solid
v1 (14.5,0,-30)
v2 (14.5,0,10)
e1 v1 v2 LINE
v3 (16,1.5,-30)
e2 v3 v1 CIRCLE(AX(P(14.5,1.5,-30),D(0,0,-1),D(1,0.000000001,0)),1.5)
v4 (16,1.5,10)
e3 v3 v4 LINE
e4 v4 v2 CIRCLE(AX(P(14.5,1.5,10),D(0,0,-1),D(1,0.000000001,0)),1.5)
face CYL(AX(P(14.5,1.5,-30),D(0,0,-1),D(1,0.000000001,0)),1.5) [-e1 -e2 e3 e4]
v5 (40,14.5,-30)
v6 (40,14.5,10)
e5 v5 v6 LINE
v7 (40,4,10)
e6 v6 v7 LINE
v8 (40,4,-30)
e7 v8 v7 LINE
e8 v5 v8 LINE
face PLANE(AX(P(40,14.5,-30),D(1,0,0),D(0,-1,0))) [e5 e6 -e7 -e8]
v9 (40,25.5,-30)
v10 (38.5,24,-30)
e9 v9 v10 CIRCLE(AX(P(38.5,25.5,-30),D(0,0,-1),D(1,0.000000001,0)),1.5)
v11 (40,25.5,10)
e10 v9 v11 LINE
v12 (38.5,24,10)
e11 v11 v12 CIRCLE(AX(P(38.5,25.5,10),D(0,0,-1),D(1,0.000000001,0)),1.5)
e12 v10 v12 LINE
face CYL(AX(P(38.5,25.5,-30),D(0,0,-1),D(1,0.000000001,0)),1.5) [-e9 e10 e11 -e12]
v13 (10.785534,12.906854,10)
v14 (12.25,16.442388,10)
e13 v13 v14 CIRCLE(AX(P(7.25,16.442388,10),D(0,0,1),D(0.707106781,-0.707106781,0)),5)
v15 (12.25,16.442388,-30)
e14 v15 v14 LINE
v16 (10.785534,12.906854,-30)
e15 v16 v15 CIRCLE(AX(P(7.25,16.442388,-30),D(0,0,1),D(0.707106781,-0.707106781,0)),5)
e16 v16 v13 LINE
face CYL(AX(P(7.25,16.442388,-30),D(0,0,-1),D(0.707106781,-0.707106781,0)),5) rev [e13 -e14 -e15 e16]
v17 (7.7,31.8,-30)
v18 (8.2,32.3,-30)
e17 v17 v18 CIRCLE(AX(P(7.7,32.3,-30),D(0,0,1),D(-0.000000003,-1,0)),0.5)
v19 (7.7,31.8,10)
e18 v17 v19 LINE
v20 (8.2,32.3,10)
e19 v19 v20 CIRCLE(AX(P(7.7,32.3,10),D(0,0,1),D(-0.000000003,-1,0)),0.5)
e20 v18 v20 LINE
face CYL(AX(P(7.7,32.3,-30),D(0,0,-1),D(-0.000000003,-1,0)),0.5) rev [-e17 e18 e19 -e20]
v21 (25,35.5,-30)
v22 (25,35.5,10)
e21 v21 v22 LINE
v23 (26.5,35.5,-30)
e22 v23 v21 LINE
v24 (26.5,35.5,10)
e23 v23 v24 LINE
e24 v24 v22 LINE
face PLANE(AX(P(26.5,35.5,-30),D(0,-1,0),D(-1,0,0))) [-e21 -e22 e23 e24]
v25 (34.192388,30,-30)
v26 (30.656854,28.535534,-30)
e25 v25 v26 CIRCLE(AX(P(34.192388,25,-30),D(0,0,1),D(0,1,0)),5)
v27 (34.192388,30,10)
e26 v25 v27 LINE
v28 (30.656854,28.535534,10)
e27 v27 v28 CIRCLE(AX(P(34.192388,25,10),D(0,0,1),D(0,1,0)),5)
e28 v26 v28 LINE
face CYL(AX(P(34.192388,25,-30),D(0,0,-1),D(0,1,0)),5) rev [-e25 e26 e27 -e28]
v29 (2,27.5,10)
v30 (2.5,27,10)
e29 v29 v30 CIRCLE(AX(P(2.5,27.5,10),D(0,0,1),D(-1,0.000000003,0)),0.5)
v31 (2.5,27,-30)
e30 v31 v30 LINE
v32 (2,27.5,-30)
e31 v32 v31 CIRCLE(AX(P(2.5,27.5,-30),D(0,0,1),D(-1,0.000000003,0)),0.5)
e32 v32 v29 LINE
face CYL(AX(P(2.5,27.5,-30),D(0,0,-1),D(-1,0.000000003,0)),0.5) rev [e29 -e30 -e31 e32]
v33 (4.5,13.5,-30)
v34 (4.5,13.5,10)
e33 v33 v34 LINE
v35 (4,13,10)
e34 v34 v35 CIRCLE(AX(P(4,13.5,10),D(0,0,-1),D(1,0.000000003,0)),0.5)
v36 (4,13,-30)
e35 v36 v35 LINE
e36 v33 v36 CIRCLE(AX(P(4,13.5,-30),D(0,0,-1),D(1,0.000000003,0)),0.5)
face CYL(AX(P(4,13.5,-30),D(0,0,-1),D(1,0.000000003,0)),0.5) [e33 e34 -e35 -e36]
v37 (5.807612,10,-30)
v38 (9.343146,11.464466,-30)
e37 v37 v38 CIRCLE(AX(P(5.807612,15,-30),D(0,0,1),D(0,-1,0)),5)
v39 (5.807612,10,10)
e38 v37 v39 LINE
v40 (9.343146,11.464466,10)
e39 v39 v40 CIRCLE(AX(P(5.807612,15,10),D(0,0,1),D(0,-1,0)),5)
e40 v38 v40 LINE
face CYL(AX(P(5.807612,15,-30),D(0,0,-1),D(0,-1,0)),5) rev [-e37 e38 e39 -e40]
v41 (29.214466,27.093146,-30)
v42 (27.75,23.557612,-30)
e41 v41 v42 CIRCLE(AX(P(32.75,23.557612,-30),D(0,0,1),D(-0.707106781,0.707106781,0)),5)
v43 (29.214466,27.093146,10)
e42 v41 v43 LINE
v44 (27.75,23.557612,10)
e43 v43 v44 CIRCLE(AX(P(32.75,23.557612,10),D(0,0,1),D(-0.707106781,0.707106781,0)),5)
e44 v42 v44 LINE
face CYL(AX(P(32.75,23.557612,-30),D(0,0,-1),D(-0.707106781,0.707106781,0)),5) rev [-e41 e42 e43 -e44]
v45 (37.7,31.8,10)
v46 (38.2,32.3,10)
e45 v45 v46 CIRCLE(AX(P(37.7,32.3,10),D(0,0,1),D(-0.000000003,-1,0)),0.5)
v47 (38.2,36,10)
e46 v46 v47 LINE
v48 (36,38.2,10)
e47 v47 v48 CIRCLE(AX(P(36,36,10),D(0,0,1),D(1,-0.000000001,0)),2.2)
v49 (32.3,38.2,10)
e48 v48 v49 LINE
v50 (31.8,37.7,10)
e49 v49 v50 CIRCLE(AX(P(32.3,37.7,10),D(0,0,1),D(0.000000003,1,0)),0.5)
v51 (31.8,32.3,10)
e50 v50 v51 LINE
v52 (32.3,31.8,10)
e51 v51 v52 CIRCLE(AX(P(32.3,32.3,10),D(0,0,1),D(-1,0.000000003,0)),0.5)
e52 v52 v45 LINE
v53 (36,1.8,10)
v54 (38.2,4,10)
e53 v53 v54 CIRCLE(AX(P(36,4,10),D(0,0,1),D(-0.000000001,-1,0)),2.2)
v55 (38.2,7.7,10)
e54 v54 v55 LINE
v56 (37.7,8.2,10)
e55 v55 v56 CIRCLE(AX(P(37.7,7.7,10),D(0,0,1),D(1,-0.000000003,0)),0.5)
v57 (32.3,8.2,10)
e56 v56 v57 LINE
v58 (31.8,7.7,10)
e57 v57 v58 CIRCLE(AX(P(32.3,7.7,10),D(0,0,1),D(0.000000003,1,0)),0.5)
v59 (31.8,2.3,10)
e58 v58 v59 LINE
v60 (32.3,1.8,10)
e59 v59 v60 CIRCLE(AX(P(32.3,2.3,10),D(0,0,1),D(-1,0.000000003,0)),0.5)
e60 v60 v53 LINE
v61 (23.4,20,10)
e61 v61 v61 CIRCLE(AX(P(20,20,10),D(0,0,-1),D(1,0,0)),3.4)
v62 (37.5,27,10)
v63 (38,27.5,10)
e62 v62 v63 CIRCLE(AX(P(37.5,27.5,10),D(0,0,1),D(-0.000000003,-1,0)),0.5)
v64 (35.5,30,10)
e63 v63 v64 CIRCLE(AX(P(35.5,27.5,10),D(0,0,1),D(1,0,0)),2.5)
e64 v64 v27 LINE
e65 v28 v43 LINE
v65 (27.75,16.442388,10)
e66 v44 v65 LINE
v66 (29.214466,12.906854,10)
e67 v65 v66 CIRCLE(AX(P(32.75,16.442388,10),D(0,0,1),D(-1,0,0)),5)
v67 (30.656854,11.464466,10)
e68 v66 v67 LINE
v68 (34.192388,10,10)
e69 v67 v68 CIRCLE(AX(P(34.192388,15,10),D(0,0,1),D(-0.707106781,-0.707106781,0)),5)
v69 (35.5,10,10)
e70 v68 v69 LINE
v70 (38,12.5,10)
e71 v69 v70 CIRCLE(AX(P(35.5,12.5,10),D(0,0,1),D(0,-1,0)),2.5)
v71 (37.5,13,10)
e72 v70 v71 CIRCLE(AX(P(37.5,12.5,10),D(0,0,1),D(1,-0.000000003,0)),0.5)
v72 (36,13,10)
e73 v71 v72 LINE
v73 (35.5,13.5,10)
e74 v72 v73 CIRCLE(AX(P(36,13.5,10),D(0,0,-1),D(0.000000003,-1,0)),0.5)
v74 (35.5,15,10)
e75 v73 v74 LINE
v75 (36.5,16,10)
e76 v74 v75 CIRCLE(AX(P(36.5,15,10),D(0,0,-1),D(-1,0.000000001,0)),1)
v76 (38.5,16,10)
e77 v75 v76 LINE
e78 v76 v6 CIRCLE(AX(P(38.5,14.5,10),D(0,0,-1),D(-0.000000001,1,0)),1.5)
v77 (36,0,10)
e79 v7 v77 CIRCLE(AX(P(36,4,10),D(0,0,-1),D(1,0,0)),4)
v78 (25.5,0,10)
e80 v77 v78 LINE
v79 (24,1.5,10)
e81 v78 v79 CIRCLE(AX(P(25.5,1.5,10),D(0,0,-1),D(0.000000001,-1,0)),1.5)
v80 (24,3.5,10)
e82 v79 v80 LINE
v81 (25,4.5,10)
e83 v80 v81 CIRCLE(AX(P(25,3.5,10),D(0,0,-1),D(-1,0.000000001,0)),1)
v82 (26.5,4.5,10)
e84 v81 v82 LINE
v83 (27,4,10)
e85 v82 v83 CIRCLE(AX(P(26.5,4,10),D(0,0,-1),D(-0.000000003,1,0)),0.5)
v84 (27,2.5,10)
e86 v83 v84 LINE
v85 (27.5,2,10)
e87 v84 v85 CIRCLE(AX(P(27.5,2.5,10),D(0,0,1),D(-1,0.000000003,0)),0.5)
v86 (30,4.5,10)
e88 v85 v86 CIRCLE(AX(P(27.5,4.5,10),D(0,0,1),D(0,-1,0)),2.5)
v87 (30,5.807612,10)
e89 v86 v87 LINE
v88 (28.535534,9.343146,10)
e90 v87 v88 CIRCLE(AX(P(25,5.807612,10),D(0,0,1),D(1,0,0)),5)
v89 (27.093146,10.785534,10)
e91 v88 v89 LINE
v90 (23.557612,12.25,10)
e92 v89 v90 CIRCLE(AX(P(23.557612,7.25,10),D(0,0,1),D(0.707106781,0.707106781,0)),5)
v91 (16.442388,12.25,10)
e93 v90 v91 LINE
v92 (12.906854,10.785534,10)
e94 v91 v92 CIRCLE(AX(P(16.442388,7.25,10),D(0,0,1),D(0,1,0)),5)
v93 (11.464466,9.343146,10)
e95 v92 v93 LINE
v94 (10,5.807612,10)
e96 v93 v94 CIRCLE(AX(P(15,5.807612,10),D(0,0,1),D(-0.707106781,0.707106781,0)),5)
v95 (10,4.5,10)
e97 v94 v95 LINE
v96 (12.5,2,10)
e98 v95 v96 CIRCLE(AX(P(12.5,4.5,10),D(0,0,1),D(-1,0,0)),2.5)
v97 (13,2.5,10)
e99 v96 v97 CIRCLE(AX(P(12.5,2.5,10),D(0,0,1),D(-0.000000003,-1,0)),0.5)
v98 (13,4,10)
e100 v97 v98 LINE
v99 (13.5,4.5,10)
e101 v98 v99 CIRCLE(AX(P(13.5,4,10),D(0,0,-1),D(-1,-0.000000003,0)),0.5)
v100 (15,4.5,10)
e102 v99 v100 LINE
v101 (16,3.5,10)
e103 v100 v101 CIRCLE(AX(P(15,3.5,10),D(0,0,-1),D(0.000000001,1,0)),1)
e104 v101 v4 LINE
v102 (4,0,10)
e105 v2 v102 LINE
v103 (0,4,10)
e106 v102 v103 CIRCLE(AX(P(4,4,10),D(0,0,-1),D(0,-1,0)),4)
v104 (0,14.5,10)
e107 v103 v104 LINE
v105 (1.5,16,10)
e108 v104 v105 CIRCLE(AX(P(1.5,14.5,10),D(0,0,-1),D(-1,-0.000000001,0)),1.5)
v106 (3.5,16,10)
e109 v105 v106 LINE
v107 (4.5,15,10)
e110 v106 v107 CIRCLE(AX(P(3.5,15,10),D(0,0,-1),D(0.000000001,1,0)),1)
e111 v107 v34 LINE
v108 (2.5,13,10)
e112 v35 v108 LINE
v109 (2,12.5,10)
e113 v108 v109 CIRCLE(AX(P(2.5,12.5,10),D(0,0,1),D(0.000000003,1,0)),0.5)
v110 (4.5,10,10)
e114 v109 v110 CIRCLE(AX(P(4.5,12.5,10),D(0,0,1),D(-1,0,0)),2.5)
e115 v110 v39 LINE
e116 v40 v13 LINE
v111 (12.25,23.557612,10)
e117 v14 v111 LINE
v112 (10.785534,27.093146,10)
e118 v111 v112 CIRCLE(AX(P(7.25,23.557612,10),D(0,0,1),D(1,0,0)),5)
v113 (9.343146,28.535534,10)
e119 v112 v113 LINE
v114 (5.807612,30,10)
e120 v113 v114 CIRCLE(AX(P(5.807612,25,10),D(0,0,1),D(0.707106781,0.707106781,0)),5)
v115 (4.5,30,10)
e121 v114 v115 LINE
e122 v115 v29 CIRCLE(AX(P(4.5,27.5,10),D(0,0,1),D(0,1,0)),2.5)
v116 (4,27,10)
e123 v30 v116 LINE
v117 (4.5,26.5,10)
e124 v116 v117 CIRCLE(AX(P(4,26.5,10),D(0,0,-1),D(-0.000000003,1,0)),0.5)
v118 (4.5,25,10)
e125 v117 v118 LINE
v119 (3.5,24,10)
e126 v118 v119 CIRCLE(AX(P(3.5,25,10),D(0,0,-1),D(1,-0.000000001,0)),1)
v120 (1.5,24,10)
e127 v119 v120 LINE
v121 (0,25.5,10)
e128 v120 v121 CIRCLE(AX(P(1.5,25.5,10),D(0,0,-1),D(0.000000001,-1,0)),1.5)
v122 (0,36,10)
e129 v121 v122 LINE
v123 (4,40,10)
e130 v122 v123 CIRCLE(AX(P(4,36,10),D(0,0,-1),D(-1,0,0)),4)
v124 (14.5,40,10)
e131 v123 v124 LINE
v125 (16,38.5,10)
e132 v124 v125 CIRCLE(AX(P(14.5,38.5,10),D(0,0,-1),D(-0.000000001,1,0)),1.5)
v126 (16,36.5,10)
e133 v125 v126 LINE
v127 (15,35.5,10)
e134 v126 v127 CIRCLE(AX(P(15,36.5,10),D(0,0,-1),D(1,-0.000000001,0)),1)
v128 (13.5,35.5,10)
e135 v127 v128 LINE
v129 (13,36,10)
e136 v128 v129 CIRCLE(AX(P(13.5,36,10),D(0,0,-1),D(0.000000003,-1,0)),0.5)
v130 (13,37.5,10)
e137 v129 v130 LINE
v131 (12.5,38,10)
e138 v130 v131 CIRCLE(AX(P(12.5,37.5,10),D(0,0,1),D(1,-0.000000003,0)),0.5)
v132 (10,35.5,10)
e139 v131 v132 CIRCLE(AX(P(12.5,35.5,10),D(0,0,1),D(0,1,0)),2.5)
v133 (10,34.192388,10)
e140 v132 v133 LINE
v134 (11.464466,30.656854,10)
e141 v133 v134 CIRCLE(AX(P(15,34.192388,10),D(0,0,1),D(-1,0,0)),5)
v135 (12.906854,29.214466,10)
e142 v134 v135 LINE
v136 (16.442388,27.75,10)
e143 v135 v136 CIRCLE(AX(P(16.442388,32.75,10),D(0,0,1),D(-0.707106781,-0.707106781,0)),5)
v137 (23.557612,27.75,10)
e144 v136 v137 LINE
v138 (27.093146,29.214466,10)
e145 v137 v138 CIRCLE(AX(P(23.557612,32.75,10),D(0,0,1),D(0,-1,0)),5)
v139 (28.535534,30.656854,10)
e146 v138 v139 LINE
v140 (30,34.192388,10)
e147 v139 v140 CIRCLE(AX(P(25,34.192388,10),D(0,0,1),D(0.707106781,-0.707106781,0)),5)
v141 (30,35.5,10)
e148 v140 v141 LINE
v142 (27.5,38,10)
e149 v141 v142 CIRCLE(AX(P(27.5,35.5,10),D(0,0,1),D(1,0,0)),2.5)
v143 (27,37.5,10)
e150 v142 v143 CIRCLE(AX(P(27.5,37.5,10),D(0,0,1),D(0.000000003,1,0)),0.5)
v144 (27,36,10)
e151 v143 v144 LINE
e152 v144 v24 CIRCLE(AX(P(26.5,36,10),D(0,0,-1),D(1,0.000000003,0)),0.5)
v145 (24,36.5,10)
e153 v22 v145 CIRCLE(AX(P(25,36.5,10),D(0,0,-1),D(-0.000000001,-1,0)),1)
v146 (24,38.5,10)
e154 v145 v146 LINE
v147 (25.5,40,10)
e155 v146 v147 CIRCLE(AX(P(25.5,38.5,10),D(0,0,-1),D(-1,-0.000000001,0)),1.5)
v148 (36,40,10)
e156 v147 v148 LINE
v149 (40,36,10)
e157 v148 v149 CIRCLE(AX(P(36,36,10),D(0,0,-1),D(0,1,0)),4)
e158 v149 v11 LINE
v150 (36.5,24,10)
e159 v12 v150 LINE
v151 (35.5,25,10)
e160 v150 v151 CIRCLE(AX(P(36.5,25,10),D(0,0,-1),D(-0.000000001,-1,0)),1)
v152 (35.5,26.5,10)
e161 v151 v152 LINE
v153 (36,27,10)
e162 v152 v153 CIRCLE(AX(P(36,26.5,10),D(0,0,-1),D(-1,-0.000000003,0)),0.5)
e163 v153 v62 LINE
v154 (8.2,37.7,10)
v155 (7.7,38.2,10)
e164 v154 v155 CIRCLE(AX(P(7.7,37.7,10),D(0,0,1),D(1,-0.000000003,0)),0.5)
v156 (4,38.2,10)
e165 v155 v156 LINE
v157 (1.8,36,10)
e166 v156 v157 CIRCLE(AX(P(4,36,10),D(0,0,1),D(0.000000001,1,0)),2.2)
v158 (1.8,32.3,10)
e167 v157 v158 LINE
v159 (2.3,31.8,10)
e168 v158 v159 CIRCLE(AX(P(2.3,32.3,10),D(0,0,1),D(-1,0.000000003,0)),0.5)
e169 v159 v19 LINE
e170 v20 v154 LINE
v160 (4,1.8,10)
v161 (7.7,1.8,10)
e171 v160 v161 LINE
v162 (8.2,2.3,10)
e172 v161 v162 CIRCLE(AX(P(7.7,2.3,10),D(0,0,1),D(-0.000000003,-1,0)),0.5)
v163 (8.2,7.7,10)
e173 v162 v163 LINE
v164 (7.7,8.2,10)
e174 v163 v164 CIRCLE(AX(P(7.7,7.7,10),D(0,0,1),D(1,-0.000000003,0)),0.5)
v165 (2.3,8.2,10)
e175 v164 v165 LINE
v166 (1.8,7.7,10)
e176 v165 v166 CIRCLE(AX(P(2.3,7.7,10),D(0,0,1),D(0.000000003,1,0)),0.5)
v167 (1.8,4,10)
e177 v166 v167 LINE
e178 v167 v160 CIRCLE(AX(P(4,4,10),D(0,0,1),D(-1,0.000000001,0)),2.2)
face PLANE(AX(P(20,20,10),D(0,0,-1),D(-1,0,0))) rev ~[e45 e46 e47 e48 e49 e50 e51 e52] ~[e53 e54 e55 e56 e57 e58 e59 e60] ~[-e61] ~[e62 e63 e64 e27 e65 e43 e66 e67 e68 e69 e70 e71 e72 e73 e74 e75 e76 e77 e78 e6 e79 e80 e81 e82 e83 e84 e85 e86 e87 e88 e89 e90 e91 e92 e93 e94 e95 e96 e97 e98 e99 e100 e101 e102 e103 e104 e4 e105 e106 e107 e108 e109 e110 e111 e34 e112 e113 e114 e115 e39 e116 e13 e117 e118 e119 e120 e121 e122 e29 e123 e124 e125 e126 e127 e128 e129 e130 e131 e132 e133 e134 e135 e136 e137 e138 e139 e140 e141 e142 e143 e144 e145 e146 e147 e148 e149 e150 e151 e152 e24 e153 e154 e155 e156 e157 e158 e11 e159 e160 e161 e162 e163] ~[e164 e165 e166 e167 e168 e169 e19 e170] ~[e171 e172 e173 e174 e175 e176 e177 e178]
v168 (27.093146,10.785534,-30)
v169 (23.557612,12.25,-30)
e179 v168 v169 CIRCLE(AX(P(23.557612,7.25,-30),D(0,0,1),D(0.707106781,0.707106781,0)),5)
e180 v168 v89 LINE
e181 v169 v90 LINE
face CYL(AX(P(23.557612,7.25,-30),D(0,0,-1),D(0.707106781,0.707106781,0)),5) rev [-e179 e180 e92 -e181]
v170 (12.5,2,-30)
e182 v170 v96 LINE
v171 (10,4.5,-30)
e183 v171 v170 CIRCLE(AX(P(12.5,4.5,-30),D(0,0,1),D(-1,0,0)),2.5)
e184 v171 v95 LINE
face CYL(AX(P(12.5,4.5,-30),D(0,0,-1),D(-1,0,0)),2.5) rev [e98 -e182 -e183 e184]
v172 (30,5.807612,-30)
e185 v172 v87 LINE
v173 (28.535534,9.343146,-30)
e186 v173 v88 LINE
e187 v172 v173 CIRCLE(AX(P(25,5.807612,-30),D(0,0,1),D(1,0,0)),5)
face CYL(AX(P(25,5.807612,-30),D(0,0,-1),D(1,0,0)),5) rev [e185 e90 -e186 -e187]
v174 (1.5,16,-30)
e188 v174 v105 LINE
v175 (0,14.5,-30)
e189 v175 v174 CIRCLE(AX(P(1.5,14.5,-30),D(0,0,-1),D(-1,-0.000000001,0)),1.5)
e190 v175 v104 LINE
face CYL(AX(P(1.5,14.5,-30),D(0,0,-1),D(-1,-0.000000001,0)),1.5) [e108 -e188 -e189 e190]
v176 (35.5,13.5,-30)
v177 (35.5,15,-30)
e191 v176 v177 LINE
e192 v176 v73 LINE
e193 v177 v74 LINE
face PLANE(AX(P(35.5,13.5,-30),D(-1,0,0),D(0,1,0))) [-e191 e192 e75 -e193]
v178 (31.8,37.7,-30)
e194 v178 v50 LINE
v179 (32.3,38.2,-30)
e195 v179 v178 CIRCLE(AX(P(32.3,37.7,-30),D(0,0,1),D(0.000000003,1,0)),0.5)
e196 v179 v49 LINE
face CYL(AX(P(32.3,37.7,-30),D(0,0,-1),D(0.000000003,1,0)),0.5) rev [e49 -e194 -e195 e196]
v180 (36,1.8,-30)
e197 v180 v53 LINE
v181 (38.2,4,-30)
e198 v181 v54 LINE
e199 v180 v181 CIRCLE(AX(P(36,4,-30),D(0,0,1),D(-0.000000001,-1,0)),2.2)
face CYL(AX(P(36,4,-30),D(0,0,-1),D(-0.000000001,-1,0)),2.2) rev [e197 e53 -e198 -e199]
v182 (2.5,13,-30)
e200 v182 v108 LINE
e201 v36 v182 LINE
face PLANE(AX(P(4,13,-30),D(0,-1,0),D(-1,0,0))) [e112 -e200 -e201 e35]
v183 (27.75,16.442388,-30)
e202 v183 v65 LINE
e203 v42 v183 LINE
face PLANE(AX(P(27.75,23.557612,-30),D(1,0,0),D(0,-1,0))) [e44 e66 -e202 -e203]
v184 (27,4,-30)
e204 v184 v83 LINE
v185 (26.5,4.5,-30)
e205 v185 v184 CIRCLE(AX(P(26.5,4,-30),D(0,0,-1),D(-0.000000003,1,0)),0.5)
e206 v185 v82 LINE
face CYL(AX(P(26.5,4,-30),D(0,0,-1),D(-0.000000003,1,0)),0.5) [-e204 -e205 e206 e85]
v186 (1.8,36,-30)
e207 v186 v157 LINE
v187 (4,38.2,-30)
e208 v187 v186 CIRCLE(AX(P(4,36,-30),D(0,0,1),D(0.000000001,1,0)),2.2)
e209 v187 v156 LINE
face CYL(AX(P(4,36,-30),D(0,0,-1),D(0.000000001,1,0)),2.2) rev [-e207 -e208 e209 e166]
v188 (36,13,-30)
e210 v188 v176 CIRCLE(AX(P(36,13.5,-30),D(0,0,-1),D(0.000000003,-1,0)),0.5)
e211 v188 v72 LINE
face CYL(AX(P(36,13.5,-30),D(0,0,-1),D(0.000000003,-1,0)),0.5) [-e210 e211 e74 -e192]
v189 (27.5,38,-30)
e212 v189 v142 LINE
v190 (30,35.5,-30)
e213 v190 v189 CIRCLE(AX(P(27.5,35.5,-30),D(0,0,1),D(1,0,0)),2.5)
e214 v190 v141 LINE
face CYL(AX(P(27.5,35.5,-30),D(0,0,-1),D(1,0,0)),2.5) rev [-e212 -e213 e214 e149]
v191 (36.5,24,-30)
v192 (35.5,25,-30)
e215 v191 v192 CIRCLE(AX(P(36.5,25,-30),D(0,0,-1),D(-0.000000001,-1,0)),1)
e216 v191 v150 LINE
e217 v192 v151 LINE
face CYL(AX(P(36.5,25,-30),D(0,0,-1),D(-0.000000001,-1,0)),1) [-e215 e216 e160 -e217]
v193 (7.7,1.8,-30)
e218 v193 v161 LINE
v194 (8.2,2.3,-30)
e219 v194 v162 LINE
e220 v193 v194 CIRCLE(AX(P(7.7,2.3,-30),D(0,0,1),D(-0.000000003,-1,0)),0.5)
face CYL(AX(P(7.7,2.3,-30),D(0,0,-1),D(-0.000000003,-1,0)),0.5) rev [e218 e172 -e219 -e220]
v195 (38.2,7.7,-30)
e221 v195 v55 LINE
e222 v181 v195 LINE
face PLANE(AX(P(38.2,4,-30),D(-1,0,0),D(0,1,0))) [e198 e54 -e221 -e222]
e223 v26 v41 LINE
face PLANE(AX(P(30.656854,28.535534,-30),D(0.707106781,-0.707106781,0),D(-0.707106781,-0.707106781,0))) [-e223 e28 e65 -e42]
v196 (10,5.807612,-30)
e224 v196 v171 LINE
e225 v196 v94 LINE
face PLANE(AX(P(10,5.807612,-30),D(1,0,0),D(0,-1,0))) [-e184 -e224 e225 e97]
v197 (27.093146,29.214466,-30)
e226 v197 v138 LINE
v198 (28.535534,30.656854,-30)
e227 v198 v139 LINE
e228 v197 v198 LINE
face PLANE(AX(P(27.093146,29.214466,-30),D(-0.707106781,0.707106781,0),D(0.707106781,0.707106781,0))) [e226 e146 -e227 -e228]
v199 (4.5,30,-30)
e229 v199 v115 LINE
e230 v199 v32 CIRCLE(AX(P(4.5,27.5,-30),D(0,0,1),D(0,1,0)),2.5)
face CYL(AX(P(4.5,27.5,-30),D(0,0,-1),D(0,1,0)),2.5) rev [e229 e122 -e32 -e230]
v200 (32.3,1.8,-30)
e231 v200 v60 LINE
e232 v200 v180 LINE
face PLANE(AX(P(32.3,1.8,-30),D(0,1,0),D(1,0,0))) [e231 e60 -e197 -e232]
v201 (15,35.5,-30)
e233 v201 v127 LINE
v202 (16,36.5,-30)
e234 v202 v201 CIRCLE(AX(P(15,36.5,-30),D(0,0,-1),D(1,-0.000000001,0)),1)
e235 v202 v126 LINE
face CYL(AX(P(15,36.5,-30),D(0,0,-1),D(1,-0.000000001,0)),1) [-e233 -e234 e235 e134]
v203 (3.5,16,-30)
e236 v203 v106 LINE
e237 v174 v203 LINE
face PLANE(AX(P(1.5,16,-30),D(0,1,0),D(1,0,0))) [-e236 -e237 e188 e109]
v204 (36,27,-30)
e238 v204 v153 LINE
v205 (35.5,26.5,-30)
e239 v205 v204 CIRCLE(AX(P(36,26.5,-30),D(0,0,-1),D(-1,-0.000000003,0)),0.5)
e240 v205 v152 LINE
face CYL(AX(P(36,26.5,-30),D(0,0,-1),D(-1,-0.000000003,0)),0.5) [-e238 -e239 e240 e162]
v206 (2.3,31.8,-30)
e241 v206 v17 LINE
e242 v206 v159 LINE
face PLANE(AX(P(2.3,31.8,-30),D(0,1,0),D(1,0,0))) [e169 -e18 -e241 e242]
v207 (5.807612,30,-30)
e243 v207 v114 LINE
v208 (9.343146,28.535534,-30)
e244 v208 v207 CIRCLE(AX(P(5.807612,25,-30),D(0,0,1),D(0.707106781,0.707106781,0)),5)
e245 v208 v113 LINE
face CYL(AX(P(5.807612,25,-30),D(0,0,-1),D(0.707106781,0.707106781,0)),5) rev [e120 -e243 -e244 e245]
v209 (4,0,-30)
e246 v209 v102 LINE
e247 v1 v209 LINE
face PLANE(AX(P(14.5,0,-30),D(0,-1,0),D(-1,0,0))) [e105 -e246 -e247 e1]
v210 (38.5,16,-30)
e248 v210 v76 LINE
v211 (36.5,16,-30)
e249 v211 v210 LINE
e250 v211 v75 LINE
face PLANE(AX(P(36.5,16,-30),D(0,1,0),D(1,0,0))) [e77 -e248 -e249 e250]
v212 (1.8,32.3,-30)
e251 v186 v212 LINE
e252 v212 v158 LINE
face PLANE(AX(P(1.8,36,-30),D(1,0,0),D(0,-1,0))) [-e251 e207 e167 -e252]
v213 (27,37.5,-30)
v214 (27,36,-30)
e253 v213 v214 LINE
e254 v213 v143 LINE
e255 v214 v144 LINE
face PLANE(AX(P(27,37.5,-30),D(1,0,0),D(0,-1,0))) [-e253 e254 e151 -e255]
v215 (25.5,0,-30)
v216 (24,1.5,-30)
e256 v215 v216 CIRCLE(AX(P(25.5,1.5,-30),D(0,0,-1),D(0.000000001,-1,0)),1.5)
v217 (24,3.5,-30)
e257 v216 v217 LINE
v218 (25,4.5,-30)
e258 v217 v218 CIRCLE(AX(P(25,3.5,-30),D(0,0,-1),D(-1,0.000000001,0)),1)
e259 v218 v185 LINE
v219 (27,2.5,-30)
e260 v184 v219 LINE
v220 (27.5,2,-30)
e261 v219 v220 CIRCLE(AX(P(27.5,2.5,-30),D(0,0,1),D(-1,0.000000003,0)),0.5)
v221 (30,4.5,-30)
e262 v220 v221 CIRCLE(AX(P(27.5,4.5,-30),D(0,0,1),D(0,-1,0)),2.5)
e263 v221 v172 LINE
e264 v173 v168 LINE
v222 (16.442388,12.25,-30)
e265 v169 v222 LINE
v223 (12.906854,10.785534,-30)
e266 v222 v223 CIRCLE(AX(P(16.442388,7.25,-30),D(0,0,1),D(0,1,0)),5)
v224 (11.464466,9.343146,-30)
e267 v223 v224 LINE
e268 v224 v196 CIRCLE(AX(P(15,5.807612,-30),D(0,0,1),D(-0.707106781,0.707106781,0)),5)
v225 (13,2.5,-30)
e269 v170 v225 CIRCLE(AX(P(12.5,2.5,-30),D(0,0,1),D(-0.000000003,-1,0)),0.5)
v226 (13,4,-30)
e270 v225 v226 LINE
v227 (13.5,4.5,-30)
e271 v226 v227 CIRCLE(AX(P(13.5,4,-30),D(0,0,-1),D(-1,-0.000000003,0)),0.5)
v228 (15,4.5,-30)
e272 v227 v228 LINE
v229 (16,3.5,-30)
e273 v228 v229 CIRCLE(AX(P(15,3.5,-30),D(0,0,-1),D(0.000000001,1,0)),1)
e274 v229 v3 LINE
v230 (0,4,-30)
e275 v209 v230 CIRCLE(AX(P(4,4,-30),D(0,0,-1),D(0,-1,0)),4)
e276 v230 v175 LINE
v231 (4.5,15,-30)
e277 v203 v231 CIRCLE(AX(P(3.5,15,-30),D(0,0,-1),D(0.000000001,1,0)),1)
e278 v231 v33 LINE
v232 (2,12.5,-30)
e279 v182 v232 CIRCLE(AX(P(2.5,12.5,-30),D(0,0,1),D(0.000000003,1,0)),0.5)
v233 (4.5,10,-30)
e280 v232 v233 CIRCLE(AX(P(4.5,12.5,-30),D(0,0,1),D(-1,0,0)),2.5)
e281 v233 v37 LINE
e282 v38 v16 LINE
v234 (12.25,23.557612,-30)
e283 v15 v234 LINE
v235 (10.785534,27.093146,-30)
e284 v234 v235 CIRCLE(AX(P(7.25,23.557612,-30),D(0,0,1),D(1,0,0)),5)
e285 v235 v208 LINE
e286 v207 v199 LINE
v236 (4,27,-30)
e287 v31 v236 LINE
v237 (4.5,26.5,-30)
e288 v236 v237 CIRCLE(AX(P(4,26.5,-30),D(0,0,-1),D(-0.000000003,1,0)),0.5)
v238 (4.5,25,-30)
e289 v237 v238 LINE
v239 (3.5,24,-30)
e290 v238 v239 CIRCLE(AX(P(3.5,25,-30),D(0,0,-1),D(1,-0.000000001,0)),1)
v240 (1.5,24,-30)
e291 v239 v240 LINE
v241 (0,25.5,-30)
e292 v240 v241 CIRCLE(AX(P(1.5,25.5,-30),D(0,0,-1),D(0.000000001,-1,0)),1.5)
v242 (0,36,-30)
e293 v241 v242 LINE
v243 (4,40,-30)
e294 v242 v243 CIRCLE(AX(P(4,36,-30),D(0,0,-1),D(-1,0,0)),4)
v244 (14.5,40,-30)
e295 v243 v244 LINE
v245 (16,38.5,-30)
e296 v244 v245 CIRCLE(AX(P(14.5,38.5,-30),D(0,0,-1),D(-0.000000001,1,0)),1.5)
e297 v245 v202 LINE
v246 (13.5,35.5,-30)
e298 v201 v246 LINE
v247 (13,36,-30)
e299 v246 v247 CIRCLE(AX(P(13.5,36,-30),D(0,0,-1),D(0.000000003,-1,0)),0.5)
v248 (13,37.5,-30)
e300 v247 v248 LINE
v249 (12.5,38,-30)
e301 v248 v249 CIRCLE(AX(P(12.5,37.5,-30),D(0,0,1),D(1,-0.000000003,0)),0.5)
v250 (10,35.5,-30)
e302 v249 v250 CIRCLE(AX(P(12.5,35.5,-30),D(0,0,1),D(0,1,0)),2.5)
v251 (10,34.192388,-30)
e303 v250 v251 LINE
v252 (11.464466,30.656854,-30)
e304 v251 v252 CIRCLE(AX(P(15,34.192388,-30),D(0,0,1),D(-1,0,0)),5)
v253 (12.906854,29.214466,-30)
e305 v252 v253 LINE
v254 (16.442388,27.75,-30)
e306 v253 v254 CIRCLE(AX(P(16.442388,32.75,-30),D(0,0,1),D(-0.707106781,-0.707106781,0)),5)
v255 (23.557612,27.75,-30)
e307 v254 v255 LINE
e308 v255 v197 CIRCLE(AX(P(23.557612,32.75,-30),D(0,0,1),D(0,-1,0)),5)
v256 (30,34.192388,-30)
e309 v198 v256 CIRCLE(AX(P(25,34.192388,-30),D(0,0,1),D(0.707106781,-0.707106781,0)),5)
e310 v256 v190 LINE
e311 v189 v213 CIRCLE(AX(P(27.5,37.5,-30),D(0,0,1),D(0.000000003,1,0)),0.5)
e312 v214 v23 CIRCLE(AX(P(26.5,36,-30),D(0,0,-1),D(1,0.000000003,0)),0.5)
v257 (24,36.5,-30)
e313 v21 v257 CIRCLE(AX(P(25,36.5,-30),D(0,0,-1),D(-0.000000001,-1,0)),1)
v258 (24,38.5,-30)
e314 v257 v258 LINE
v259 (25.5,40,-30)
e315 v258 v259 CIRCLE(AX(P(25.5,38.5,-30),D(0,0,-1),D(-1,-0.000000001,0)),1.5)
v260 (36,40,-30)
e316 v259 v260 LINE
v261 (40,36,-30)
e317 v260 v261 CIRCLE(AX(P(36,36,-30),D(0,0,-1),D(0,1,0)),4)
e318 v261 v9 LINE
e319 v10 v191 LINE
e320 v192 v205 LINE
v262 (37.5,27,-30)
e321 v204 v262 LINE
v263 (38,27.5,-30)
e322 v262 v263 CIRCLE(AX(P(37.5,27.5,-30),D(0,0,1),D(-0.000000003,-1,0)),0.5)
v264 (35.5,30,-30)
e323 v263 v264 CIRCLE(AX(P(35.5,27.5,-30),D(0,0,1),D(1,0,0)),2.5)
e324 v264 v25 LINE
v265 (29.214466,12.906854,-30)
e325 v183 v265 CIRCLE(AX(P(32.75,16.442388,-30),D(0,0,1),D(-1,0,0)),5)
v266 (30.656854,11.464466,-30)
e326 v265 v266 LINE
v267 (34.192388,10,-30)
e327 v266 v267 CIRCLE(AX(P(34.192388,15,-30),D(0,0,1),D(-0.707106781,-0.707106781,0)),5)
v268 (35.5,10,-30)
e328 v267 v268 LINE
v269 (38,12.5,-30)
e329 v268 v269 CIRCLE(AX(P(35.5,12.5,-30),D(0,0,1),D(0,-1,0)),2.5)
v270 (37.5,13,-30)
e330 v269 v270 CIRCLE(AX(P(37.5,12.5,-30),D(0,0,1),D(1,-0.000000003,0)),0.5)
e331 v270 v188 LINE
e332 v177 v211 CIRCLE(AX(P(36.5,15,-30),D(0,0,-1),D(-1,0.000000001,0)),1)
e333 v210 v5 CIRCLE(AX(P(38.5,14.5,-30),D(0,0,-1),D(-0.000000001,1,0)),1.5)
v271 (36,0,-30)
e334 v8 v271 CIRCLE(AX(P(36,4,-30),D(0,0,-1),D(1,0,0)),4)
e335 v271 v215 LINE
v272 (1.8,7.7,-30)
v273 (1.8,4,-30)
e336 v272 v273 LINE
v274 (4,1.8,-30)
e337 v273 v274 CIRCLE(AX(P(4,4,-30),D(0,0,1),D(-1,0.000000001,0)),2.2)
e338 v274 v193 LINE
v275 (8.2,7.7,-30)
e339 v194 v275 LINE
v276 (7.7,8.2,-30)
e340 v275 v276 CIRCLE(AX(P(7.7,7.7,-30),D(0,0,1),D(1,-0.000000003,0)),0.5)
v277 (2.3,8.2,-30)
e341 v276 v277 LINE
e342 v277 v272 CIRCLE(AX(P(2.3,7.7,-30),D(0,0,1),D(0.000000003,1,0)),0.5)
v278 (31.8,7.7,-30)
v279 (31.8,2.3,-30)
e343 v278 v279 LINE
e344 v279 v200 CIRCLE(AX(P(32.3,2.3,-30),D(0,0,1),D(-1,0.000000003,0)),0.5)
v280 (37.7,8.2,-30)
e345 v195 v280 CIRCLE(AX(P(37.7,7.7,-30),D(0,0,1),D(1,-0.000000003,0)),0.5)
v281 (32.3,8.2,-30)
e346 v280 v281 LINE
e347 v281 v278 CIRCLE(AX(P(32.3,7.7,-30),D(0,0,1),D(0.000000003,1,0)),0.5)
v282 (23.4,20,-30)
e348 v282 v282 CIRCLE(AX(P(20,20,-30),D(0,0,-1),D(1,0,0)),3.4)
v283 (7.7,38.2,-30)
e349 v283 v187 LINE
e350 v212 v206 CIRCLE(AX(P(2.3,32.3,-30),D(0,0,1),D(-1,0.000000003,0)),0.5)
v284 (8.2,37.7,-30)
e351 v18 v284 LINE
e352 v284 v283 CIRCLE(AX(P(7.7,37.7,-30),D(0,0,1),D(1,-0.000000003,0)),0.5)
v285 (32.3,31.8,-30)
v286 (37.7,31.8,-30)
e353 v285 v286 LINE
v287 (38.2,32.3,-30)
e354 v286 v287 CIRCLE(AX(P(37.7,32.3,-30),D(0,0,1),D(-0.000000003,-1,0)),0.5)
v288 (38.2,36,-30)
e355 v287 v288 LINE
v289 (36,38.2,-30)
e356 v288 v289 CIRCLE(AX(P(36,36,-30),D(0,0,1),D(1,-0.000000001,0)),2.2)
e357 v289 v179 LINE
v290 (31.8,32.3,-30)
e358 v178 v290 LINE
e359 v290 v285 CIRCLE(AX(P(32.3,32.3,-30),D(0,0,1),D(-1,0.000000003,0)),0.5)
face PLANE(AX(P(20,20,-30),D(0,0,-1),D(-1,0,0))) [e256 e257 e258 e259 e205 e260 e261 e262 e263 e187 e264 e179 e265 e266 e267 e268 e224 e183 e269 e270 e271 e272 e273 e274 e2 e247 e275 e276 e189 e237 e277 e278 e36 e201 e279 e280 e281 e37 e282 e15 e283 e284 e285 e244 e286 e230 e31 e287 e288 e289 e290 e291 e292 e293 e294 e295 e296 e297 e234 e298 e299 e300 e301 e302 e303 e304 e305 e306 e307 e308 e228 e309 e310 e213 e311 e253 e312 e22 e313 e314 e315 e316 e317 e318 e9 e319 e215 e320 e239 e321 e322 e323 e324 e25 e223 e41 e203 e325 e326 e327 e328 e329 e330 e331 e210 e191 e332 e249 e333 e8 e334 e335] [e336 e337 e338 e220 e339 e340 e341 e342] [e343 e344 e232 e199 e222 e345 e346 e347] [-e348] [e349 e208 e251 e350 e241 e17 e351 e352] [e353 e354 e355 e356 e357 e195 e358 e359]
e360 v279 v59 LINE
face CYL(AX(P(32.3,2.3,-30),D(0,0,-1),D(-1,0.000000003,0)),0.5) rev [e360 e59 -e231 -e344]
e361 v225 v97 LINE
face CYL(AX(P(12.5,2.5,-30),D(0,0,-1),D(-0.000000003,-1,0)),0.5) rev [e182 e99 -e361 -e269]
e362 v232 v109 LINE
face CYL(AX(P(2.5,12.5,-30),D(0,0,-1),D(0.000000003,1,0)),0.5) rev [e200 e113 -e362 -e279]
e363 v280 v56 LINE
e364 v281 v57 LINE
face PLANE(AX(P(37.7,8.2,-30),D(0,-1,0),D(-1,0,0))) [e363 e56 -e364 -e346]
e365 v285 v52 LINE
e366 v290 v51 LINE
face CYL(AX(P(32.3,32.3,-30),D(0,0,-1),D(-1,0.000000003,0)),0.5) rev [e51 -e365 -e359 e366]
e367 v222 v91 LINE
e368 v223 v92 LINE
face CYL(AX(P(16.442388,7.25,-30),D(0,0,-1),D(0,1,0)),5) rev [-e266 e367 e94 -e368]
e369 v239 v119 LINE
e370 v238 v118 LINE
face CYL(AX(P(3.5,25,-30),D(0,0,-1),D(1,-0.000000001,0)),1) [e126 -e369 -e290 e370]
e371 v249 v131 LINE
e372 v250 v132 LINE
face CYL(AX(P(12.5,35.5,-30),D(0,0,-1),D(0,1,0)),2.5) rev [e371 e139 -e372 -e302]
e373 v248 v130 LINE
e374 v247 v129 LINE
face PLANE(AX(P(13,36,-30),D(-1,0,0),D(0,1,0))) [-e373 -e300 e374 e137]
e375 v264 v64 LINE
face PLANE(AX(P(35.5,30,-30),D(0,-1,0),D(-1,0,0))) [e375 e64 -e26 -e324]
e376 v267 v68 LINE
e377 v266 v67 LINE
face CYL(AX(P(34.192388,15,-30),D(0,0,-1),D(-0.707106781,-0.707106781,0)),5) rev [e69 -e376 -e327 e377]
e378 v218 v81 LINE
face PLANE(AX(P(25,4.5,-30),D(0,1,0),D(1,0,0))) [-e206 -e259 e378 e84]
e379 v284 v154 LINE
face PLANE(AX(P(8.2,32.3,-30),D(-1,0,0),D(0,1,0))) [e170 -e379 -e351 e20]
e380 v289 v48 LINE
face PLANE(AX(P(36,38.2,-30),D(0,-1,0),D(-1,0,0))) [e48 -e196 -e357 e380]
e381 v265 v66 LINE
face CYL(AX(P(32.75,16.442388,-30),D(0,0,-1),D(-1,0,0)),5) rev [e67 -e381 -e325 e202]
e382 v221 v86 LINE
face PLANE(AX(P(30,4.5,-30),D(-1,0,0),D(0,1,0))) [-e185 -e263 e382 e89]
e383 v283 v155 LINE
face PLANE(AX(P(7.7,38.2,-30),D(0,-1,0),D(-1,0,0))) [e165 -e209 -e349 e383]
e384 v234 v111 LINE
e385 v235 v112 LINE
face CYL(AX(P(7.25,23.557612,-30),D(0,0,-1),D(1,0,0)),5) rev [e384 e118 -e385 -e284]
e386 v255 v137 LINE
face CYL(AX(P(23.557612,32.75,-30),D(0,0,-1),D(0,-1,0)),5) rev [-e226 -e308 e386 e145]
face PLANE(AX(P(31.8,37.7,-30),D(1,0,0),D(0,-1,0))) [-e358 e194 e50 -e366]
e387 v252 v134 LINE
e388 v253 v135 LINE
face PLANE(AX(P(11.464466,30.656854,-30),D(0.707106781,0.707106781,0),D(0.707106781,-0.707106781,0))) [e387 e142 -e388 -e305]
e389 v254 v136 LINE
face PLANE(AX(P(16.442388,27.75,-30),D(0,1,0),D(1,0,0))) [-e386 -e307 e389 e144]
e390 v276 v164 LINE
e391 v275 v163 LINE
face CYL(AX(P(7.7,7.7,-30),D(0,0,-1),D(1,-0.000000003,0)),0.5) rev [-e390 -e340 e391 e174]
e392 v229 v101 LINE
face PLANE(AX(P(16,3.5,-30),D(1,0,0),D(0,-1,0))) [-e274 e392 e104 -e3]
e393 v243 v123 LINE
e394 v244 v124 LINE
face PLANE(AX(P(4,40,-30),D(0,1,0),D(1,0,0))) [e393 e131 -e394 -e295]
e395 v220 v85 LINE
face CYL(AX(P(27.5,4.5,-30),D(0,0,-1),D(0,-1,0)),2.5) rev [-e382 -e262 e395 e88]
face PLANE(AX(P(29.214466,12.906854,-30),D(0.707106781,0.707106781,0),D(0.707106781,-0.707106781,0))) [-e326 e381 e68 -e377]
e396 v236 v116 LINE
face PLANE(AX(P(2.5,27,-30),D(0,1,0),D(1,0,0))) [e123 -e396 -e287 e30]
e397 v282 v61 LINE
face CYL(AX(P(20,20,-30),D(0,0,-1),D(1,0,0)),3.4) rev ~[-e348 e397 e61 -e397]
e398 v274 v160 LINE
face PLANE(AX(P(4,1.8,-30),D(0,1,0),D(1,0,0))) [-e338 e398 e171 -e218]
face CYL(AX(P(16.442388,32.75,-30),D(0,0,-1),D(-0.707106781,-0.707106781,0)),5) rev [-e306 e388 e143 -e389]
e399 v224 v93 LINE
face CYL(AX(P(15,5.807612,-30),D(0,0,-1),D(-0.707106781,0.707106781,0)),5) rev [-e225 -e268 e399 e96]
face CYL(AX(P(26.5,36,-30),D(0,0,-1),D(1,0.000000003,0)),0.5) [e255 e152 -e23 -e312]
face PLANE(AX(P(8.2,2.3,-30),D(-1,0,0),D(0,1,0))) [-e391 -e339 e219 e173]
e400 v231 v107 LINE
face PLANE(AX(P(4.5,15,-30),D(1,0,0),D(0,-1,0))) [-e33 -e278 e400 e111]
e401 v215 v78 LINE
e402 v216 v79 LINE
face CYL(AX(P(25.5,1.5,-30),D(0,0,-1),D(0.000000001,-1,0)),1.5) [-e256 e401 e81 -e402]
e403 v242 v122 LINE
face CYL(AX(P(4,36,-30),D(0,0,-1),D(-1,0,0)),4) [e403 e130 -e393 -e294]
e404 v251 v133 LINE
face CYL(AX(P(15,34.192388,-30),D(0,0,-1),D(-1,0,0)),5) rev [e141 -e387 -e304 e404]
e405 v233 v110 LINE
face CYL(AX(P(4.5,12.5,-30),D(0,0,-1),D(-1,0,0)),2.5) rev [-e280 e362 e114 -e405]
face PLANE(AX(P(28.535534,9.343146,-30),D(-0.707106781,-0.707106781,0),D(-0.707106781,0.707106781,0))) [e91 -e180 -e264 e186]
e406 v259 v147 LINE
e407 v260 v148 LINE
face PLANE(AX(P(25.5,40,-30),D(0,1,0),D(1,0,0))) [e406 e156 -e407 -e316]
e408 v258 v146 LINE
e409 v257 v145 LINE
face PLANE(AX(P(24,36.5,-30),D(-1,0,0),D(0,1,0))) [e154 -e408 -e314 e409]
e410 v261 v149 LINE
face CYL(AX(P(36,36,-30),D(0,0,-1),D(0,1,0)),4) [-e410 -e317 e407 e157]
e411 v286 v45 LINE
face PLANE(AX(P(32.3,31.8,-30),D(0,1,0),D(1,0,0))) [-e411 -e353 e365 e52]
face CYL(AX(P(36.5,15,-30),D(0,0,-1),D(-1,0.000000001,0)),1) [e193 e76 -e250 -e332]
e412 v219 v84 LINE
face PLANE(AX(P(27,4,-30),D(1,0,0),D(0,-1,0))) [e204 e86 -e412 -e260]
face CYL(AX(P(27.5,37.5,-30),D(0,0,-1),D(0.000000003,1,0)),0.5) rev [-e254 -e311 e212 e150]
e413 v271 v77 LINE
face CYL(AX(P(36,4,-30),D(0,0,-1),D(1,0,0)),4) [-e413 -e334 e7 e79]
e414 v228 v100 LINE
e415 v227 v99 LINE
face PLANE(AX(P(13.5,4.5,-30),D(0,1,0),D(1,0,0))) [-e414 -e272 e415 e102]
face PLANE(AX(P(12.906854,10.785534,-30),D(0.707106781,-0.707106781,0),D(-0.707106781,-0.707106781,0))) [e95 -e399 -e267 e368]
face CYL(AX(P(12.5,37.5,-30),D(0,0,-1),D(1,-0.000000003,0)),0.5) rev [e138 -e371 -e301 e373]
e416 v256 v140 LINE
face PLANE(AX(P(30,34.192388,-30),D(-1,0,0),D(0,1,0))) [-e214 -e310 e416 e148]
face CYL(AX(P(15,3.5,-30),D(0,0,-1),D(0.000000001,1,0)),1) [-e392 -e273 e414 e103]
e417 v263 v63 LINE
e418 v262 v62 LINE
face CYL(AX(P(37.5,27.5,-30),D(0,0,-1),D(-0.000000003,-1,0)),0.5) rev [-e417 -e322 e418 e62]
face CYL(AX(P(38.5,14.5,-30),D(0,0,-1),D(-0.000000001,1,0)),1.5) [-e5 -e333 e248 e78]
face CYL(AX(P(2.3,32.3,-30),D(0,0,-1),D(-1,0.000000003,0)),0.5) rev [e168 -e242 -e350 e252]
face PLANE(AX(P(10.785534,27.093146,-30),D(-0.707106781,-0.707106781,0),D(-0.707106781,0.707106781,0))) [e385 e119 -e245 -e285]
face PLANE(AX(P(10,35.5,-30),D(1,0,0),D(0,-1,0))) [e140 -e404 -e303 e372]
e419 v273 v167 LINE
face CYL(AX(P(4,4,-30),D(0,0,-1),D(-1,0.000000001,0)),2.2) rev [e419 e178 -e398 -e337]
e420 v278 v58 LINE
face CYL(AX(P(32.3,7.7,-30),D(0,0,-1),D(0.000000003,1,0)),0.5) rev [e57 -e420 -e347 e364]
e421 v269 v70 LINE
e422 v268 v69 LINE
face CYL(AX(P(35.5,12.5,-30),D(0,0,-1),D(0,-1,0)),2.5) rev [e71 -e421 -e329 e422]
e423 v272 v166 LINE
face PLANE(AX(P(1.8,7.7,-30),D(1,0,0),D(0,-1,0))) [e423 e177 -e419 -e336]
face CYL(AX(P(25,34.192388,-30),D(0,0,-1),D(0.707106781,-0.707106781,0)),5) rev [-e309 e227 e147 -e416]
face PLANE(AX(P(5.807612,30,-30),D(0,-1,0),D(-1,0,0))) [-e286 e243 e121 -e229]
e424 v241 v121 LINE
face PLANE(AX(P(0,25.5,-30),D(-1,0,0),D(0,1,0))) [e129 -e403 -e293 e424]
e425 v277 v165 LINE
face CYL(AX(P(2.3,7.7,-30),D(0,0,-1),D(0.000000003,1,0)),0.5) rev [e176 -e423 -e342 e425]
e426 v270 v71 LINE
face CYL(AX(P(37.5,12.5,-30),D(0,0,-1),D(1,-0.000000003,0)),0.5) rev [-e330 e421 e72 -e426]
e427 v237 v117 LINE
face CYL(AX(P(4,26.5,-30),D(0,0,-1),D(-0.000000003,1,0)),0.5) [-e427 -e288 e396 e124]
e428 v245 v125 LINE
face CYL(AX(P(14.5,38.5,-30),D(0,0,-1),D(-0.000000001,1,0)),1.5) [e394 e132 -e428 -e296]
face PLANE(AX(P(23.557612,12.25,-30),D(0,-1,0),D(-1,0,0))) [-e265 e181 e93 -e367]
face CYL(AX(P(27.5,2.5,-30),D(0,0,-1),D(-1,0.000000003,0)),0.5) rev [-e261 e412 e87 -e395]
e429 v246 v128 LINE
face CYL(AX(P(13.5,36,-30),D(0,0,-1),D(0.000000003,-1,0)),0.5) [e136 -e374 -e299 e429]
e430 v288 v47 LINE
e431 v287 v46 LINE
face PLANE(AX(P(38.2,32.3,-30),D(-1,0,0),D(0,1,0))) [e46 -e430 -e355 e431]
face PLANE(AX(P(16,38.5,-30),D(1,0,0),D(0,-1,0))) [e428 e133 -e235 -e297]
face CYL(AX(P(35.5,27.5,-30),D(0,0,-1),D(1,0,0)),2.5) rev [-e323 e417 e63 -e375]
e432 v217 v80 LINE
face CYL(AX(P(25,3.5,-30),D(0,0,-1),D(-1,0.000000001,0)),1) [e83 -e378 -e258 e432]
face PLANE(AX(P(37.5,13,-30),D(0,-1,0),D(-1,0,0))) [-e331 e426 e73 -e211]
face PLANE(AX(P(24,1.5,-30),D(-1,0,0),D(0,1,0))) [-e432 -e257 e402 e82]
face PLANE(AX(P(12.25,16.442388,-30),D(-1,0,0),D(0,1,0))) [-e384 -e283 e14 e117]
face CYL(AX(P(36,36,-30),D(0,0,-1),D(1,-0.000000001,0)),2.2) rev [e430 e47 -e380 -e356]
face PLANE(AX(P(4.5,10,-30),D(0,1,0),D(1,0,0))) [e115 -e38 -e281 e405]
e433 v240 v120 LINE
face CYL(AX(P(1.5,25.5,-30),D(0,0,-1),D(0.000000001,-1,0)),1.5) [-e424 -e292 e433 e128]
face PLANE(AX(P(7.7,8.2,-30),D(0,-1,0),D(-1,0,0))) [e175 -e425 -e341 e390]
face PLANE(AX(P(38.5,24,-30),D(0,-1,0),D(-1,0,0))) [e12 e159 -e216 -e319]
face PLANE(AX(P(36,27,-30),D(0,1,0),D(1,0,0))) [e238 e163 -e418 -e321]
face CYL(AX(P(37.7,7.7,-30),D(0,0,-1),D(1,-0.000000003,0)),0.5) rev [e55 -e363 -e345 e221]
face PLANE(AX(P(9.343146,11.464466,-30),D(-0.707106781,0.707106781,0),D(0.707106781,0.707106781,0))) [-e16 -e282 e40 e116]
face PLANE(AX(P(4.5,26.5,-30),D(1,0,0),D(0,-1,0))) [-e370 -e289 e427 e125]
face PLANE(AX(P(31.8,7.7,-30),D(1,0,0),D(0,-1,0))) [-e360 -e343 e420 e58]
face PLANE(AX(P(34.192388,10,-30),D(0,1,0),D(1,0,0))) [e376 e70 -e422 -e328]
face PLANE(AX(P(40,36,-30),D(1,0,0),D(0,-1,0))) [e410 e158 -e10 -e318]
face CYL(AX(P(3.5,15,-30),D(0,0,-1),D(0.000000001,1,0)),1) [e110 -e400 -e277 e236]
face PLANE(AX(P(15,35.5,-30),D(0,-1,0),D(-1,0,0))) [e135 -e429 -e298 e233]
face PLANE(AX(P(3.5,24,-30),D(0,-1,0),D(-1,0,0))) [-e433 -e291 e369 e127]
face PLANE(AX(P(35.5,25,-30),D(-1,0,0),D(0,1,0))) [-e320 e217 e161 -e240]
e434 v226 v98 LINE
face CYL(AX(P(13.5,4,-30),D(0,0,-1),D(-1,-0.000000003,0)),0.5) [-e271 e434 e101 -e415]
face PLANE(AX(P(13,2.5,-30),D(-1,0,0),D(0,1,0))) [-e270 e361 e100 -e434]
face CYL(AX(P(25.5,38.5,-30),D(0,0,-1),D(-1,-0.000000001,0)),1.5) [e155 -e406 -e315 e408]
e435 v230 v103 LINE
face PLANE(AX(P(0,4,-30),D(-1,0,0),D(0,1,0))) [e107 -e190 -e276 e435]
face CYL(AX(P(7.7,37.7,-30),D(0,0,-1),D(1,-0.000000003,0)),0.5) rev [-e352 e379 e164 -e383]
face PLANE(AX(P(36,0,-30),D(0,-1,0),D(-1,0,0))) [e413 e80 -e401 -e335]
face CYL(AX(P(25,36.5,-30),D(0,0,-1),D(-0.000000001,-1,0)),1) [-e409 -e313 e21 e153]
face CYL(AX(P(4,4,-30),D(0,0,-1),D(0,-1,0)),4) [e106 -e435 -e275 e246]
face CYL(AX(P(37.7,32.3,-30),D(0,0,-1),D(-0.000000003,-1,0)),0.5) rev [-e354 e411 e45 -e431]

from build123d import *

# Parameters (mm, degrees)
ESQUISSE1_R        = 3.4
BOSS_EXTRU_1_DEPTH = 40


with BuildPart() as part:
    # Esquisse1 → Boss.-Extru.1 (new body)
    with BuildSketch(Plane(origin=(0, 0, -30), x_dir=(-1, 0, 0), z_dir=(0, 0, -1))):
        with BuildLine():
            Line((-4.5, 15), (-4.5, 13.5))
            ThreePointArc((-4.5, 13.5), (-4.353553391, 13.146446609), (-4, 13))
            Line((-4, 13), (-2.5, 13))
            ThreePointArc((-2.5, 13), (-2.146446609, 12.853553391), (-2, 12.5))
            ThreePointArc((-2, 12.5), (-2.732233047, 10.732233047), (-4.5, 10))
            Line((-4.5, 10), (-5.807611845, 10))
            ThreePointArc((-5.807611845, 10), (-7.721029006, 10.380602337), (-9.343145751, 11.464466094))
            Line((-9.343145751, 11.464466094), (-10.785533906, 12.906854249))
            ThreePointArc((-10.785533906, 12.906854249), (-11.869397663, 14.528970994), (-12.25, 16.442388155))
            Line((-12.25, 16.442388155), (-12.25, 23.557611845))
            ThreePointArc((-12.25, 23.557611845), (-11.869397663, 25.471029006), (-10.785533906, 27.093145751))
            Line((-10.785533906, 27.093145751), (-9.343145751, 28.535533906))
            ThreePointArc((-9.343145751, 28.535533906), (-7.721029006, 29.619397663), (-5.807611845, 30))
            Line((-5.807611845, 30), (-4.5, 30))
            ThreePointArc((-4.5, 30), (-2.732233047, 29.267766953), (-2, 27.5))
            ThreePointArc((-2, 27.5), (-2.146446609, 27.146446609), (-2.5, 27))
            Line((-2.5, 27), (-4, 27))
            ThreePointArc((-4, 27), (-4.353553391, 26.853553391), (-4.5, 26.5))
            Line((-4.5, 26.5), (-4.5, 25))
            ThreePointArc((-4.5, 25), (-4.207106781, 24.292893219), (-3.5, 24))
            Line((-3.5, 24), (-1.5, 24))
            ThreePointArc((-1.5, 24), (-0.439339828, 24.439339828), (0, 25.5))
            Line((0, 25.5), (0, 36))
            ThreePointArc((0, 36), (-1.171572875, 38.828427125), (-4, 40))
            Line((-4, 40), (-14.5, 40))
            ThreePointArc((-14.5, 40), (-15.560660172, 39.560660172), (-16, 38.5))
            Line((-16, 38.5), (-16, 36.5))
            ThreePointArc((-16, 36.5), (-15.707106781, 35.792893219), (-15, 35.5))
            Line((-15, 35.5), (-13.5, 35.5))
            ThreePointArc((-13.5, 35.5), (-13.146446609, 35.646446609), (-13, 36))
            Line((-13, 36), (-13, 37.5))
            ThreePointArc((-13, 37.5), (-12.853553391, 37.853553391), (-12.5, 38))
            ThreePointArc((-12.5, 38), (-10.732233047, 37.267766953), (-10, 35.5))
            Line((-10, 35.5), (-10, 34.192388155))
            ThreePointArc((-10, 34.192388155), (-10.380602337, 32.278970994), (-11.464466094, 30.656854249))
            Line((-11.464466094, 30.656854249), (-12.906854249, 29.214466094))
            ThreePointArc((-12.906854249, 29.214466094), (-14.528970994, 28.130602337), (-16.442388155, 27.75))
            Line((-16.442388155, 27.75), (-23.557611845, 27.75))
            ThreePointArc((-23.557611845, 27.75), (-25.471029006, 28.130602337), (-27.093145751, 29.214466094))
            Line((-27.093145751, 29.214466094), (-28.535533906, 30.656854249))
            ThreePointArc((-28.535533906, 30.656854249), (-29.619397663, 32.278970994), (-30, 34.192388155))
            Line((-30, 34.192388155), (-30, 35.5))
            ThreePointArc((-30, 35.5), (-29.267766953, 37.267766953), (-27.5, 38))
            ThreePointArc((-27.5, 38), (-27.146446609, 37.853553391), (-27, 37.5))
            Line((-27, 37.5), (-27, 36))
            ThreePointArc((-27, 36), (-26.853553391, 35.646446609), (-26.5, 35.5))
            Line((-26.5, 35.5), (-25, 35.5))
            ThreePointArc((-25, 35.5), (-24.292893219, 35.792893219), (-24, 36.5))
            Line((-24, 36.5), (-24, 38.5))
            ThreePointArc((-24, 38.5), (-24.439339828, 39.560660172), (-25.5, 40))
            Line((-25.5, 40), (-36, 40))
            ThreePointArc((-36, 40), (-38.828427125, 38.828427125), (-40, 36))
            Line((-40, 36), (-40, 25.5))
            ThreePointArc((-40, 25.5), (-39.560660172, 24.439339828), (-38.5, 24))
            Line((-38.5, 24), (-36.5, 24))
            ThreePointArc((-36.5, 24), (-35.792893219, 24.292893219), (-35.5, 25))
            Line((-35.5, 25), (-35.5, 26.5))
            ThreePointArc((-35.5, 26.5), (-35.646446609, 26.853553391), (-36, 27))
            Line((-36, 27), (-37.5, 27))
            ThreePointArc((-37.5, 27), (-37.853553391, 27.146446609), (-38, 27.5))
            ThreePointArc((-38, 27.5), (-37.267766953, 29.267766953), (-35.5, 30))
            Line((-35.5, 30), (-34.192388155, 30))
            ThreePointArc((-34.192388155, 30), (-32.278970994, 29.619397663), (-30.656854249, 28.535533906))
            Line((-30.656854249, 28.535533906), (-29.214466094, 27.093145751))
            ThreePointArc((-29.214466094, 27.093145751), (-28.130602337, 25.471029006), (-27.75, 23.557611845))
            Line((-27.75, 23.557611845), (-27.75, 16.442388155))
            ThreePointArc((-27.75, 16.442388155), (-28.130602337, 14.528970994), (-29.214466094, 12.906854249))
            Line((-29.214466094, 12.906854249), (-30.656854249, 11.464466094))
            ThreePointArc((-30.656854249, 11.464466094), (-32.278970994, 10.380602337), (-34.192388155, 10))
            Line((-34.192388155, 10), (-35.5, 10))
            ThreePointArc((-35.5, 10), (-37.267766953, 10.732233047), (-38, 12.5))
            ThreePointArc((-38, 12.5), (-37.853553391, 12.853553391), (-37.5, 13))
            Line((-37.5, 13), (-36, 13))
            ThreePointArc((-36, 13), (-35.646446609, 13.146446609), (-35.5, 13.5))
            Line((-35.5, 13.5), (-35.5, 15))
            ThreePointArc((-35.5, 15), (-35.792893219, 15.707106781), (-36.5, 16))
            Line((-36.5, 16), (-38.5, 16))
            ThreePointArc((-38.5, 16), (-39.560660172, 15.560660172), (-40, 14.5))
            Line((-40, 14.5), (-40, 4))
            ThreePointArc((-40, 4), (-38.828427125, 1.171572875), (-36, 0))
            Line((-36, 0), (-25.5, 0))
            ThreePointArc((-25.5, 0), (-24.439339828, 0.439339828), (-24, 1.5))
            Line((-24, 1.5), (-24, 3.5))
            ThreePointArc((-24, 3.5), (-24.292893219, 4.207106781), (-25, 4.5))
            Line((-25, 4.5), (-26.5, 4.5))
            ThreePointArc((-26.5, 4.5), (-26.853553391, 4.353553391), (-27, 4))
            Line((-27, 4), (-27, 2.5))
            ThreePointArc((-27, 2.5), (-27.146446609, 2.146446609), (-27.5, 2))
            ThreePointArc((-27.5, 2), (-29.267766953, 2.732233047), (-30, 4.5))
            Line((-30, 4.5), (-30, 5.807611845))
            ThreePointArc((-30, 5.807611845), (-29.619397663, 7.721029006), (-28.535533906, 9.343145751))
            Line((-28.535533906, 9.343145751), (-27.093145751, 10.785533906))
            ThreePointArc((-27.093145751, 10.785533906), (-25.471029006, 11.869397663), (-23.557611845, 12.25))
            Line((-23.557611845, 12.25), (-16.442388155, 12.25))
            ThreePointArc((-16.442388155, 12.25), (-14.528970994, 11.869397663), (-12.906854249, 10.785533906))
            Line((-12.906854249, 10.785533906), (-11.464466094, 9.343145751))
            ThreePointArc((-11.464466094, 9.343145751), (-10.380602337, 7.721029006), (-10, 5.807611845))
            Line((-10, 5.807611845), (-10, 4.5))
            ThreePointArc((-10, 4.5), (-10.732233047, 2.732233047), (-12.5, 2))
            ThreePointArc((-12.5, 2), (-12.853553391, 2.146446609), (-13, 2.5))
            Line((-13, 2.5), (-13, 4))
            ThreePointArc((-13, 4), (-13.146446609, 4.353553391), (-13.5, 4.5))
            Line((-13.5, 4.5), (-15, 4.5))
            ThreePointArc((-15, 4.5), (-15.707106781, 4.207106781), (-16, 3.5))
            Line((-16, 3.5), (-16, 1.5))
            ThreePointArc((-16, 1.5), (-15.560660172, 0.439339828), (-14.5, 0))
            Line((-14.5, 0), (-4, 0))
            ThreePointArc((-4, 0), (-1.171572875, 1.171572875), (0, 4))
            Line((0, 4), (0, 14.5))
            ThreePointArc((0, 14.5), (-0.439339828, 15.560660172), (-1.5, 16))
            Line((-1.5, 16), (-3.5, 16))
            ThreePointArc((-3.5, 16), (-4.207106781, 15.707106781), (-4.5, 15))
        make_face()
        with Locations(Location((-20, 20, 0), (0, 0, 180))):
            Circle(ESQUISSE1_R, mode=Mode.SUBTRACT)
        with BuildLine():
            Line((-4, 1.8), (-7.7, 1.8))
            ThreePointArc((-7.7, 1.8), (-8.053553391, 1.946446609), (-8.2, 2.3))
            Line((-8.2, 2.3), (-8.2, 7.7))
            ThreePointArc((-8.2, 7.7), (-8.053553391, 8.053553391), (-7.7, 8.2))
            Line((-7.7, 8.2), (-2.3, 8.2))
            ThreePointArc((-2.3, 8.2), (-1.946446609, 8.053553391), (-1.8, 7.7))
            Line((-1.8, 7.7), (-1.8, 4))
            ThreePointArc((-1.8, 4), (-2.444365081, 2.444365081), (-4, 1.8))
        make_face(mode=Mode.SUBTRACT)
        with BuildLine():
            Line((-38.2, 4), (-38.2, 7.7))
            ThreePointArc((-38.2, 7.7), (-38.053553391, 8.053553391), (-37.7, 8.2))
            Line((-37.7, 8.2), (-32.3, 8.2))
            ThreePointArc((-32.3, 8.2), (-31.946446609, 8.053553391), (-31.8, 7.7))
            Line((-31.8, 7.7), (-31.8, 2.3))
            ThreePointArc((-31.8, 2.3), (-31.946446609, 1.946446609), (-32.3, 1.8))
            Line((-32.3, 1.8), (-36, 1.8))
            ThreePointArc((-36, 1.8), (-37.555634919, 2.444365081), (-38.2, 4))
        make_face(mode=Mode.SUBTRACT)
        with BuildLine():
            Line((-36, 38.2), (-32.3, 38.2))
            ThreePointArc((-32.3, 38.2), (-31.946446609, 38.053553391), (-31.8, 37.7))
            Line((-31.8, 37.7), (-31.8, 32.3))
            ThreePointArc((-31.8, 32.3), (-31.946446609, 31.946446609), (-32.3, 31.8))
            Line((-32.3, 31.8), (-37.7, 31.8))
            ThreePointArc((-37.7, 31.8), (-38.053553391, 31.946446609), (-38.2, 32.3))
            Line((-38.2, 32.3), (-38.2, 36))
            ThreePointArc((-38.2, 36), (-37.555634919, 37.555634919), (-36, 38.2))
        make_face(mode=Mode.SUBTRACT)
        with BuildLine():
            Line((-1.8, 36), (-1.8, 32.3))
            ThreePointArc((-1.8, 32.3), (-1.946446609, 31.946446609), (-2.3, 31.8))
            Line((-2.3, 31.8), (-7.7, 31.8))
            ThreePointArc((-7.7, 31.8), (-8.053553391, 31.946446609), (-8.2, 32.3))
            Line((-8.2, 32.3), (-8.2, 37.7))
            ThreePointArc((-8.2, 37.7), (-8.053553391, 38.053553391), (-7.7, 38.2))
            Line((-7.7, 38.2), (-4, 38.2))
            ThreePointArc((-4, 38.2), (-2.444365081, 37.555634919), (-1.8, 36))
        make_face(mode=Mode.SUBTRACT)
    extrude(amount=-BOSS_EXTRU_1_DEPTH)


solid = part.part
